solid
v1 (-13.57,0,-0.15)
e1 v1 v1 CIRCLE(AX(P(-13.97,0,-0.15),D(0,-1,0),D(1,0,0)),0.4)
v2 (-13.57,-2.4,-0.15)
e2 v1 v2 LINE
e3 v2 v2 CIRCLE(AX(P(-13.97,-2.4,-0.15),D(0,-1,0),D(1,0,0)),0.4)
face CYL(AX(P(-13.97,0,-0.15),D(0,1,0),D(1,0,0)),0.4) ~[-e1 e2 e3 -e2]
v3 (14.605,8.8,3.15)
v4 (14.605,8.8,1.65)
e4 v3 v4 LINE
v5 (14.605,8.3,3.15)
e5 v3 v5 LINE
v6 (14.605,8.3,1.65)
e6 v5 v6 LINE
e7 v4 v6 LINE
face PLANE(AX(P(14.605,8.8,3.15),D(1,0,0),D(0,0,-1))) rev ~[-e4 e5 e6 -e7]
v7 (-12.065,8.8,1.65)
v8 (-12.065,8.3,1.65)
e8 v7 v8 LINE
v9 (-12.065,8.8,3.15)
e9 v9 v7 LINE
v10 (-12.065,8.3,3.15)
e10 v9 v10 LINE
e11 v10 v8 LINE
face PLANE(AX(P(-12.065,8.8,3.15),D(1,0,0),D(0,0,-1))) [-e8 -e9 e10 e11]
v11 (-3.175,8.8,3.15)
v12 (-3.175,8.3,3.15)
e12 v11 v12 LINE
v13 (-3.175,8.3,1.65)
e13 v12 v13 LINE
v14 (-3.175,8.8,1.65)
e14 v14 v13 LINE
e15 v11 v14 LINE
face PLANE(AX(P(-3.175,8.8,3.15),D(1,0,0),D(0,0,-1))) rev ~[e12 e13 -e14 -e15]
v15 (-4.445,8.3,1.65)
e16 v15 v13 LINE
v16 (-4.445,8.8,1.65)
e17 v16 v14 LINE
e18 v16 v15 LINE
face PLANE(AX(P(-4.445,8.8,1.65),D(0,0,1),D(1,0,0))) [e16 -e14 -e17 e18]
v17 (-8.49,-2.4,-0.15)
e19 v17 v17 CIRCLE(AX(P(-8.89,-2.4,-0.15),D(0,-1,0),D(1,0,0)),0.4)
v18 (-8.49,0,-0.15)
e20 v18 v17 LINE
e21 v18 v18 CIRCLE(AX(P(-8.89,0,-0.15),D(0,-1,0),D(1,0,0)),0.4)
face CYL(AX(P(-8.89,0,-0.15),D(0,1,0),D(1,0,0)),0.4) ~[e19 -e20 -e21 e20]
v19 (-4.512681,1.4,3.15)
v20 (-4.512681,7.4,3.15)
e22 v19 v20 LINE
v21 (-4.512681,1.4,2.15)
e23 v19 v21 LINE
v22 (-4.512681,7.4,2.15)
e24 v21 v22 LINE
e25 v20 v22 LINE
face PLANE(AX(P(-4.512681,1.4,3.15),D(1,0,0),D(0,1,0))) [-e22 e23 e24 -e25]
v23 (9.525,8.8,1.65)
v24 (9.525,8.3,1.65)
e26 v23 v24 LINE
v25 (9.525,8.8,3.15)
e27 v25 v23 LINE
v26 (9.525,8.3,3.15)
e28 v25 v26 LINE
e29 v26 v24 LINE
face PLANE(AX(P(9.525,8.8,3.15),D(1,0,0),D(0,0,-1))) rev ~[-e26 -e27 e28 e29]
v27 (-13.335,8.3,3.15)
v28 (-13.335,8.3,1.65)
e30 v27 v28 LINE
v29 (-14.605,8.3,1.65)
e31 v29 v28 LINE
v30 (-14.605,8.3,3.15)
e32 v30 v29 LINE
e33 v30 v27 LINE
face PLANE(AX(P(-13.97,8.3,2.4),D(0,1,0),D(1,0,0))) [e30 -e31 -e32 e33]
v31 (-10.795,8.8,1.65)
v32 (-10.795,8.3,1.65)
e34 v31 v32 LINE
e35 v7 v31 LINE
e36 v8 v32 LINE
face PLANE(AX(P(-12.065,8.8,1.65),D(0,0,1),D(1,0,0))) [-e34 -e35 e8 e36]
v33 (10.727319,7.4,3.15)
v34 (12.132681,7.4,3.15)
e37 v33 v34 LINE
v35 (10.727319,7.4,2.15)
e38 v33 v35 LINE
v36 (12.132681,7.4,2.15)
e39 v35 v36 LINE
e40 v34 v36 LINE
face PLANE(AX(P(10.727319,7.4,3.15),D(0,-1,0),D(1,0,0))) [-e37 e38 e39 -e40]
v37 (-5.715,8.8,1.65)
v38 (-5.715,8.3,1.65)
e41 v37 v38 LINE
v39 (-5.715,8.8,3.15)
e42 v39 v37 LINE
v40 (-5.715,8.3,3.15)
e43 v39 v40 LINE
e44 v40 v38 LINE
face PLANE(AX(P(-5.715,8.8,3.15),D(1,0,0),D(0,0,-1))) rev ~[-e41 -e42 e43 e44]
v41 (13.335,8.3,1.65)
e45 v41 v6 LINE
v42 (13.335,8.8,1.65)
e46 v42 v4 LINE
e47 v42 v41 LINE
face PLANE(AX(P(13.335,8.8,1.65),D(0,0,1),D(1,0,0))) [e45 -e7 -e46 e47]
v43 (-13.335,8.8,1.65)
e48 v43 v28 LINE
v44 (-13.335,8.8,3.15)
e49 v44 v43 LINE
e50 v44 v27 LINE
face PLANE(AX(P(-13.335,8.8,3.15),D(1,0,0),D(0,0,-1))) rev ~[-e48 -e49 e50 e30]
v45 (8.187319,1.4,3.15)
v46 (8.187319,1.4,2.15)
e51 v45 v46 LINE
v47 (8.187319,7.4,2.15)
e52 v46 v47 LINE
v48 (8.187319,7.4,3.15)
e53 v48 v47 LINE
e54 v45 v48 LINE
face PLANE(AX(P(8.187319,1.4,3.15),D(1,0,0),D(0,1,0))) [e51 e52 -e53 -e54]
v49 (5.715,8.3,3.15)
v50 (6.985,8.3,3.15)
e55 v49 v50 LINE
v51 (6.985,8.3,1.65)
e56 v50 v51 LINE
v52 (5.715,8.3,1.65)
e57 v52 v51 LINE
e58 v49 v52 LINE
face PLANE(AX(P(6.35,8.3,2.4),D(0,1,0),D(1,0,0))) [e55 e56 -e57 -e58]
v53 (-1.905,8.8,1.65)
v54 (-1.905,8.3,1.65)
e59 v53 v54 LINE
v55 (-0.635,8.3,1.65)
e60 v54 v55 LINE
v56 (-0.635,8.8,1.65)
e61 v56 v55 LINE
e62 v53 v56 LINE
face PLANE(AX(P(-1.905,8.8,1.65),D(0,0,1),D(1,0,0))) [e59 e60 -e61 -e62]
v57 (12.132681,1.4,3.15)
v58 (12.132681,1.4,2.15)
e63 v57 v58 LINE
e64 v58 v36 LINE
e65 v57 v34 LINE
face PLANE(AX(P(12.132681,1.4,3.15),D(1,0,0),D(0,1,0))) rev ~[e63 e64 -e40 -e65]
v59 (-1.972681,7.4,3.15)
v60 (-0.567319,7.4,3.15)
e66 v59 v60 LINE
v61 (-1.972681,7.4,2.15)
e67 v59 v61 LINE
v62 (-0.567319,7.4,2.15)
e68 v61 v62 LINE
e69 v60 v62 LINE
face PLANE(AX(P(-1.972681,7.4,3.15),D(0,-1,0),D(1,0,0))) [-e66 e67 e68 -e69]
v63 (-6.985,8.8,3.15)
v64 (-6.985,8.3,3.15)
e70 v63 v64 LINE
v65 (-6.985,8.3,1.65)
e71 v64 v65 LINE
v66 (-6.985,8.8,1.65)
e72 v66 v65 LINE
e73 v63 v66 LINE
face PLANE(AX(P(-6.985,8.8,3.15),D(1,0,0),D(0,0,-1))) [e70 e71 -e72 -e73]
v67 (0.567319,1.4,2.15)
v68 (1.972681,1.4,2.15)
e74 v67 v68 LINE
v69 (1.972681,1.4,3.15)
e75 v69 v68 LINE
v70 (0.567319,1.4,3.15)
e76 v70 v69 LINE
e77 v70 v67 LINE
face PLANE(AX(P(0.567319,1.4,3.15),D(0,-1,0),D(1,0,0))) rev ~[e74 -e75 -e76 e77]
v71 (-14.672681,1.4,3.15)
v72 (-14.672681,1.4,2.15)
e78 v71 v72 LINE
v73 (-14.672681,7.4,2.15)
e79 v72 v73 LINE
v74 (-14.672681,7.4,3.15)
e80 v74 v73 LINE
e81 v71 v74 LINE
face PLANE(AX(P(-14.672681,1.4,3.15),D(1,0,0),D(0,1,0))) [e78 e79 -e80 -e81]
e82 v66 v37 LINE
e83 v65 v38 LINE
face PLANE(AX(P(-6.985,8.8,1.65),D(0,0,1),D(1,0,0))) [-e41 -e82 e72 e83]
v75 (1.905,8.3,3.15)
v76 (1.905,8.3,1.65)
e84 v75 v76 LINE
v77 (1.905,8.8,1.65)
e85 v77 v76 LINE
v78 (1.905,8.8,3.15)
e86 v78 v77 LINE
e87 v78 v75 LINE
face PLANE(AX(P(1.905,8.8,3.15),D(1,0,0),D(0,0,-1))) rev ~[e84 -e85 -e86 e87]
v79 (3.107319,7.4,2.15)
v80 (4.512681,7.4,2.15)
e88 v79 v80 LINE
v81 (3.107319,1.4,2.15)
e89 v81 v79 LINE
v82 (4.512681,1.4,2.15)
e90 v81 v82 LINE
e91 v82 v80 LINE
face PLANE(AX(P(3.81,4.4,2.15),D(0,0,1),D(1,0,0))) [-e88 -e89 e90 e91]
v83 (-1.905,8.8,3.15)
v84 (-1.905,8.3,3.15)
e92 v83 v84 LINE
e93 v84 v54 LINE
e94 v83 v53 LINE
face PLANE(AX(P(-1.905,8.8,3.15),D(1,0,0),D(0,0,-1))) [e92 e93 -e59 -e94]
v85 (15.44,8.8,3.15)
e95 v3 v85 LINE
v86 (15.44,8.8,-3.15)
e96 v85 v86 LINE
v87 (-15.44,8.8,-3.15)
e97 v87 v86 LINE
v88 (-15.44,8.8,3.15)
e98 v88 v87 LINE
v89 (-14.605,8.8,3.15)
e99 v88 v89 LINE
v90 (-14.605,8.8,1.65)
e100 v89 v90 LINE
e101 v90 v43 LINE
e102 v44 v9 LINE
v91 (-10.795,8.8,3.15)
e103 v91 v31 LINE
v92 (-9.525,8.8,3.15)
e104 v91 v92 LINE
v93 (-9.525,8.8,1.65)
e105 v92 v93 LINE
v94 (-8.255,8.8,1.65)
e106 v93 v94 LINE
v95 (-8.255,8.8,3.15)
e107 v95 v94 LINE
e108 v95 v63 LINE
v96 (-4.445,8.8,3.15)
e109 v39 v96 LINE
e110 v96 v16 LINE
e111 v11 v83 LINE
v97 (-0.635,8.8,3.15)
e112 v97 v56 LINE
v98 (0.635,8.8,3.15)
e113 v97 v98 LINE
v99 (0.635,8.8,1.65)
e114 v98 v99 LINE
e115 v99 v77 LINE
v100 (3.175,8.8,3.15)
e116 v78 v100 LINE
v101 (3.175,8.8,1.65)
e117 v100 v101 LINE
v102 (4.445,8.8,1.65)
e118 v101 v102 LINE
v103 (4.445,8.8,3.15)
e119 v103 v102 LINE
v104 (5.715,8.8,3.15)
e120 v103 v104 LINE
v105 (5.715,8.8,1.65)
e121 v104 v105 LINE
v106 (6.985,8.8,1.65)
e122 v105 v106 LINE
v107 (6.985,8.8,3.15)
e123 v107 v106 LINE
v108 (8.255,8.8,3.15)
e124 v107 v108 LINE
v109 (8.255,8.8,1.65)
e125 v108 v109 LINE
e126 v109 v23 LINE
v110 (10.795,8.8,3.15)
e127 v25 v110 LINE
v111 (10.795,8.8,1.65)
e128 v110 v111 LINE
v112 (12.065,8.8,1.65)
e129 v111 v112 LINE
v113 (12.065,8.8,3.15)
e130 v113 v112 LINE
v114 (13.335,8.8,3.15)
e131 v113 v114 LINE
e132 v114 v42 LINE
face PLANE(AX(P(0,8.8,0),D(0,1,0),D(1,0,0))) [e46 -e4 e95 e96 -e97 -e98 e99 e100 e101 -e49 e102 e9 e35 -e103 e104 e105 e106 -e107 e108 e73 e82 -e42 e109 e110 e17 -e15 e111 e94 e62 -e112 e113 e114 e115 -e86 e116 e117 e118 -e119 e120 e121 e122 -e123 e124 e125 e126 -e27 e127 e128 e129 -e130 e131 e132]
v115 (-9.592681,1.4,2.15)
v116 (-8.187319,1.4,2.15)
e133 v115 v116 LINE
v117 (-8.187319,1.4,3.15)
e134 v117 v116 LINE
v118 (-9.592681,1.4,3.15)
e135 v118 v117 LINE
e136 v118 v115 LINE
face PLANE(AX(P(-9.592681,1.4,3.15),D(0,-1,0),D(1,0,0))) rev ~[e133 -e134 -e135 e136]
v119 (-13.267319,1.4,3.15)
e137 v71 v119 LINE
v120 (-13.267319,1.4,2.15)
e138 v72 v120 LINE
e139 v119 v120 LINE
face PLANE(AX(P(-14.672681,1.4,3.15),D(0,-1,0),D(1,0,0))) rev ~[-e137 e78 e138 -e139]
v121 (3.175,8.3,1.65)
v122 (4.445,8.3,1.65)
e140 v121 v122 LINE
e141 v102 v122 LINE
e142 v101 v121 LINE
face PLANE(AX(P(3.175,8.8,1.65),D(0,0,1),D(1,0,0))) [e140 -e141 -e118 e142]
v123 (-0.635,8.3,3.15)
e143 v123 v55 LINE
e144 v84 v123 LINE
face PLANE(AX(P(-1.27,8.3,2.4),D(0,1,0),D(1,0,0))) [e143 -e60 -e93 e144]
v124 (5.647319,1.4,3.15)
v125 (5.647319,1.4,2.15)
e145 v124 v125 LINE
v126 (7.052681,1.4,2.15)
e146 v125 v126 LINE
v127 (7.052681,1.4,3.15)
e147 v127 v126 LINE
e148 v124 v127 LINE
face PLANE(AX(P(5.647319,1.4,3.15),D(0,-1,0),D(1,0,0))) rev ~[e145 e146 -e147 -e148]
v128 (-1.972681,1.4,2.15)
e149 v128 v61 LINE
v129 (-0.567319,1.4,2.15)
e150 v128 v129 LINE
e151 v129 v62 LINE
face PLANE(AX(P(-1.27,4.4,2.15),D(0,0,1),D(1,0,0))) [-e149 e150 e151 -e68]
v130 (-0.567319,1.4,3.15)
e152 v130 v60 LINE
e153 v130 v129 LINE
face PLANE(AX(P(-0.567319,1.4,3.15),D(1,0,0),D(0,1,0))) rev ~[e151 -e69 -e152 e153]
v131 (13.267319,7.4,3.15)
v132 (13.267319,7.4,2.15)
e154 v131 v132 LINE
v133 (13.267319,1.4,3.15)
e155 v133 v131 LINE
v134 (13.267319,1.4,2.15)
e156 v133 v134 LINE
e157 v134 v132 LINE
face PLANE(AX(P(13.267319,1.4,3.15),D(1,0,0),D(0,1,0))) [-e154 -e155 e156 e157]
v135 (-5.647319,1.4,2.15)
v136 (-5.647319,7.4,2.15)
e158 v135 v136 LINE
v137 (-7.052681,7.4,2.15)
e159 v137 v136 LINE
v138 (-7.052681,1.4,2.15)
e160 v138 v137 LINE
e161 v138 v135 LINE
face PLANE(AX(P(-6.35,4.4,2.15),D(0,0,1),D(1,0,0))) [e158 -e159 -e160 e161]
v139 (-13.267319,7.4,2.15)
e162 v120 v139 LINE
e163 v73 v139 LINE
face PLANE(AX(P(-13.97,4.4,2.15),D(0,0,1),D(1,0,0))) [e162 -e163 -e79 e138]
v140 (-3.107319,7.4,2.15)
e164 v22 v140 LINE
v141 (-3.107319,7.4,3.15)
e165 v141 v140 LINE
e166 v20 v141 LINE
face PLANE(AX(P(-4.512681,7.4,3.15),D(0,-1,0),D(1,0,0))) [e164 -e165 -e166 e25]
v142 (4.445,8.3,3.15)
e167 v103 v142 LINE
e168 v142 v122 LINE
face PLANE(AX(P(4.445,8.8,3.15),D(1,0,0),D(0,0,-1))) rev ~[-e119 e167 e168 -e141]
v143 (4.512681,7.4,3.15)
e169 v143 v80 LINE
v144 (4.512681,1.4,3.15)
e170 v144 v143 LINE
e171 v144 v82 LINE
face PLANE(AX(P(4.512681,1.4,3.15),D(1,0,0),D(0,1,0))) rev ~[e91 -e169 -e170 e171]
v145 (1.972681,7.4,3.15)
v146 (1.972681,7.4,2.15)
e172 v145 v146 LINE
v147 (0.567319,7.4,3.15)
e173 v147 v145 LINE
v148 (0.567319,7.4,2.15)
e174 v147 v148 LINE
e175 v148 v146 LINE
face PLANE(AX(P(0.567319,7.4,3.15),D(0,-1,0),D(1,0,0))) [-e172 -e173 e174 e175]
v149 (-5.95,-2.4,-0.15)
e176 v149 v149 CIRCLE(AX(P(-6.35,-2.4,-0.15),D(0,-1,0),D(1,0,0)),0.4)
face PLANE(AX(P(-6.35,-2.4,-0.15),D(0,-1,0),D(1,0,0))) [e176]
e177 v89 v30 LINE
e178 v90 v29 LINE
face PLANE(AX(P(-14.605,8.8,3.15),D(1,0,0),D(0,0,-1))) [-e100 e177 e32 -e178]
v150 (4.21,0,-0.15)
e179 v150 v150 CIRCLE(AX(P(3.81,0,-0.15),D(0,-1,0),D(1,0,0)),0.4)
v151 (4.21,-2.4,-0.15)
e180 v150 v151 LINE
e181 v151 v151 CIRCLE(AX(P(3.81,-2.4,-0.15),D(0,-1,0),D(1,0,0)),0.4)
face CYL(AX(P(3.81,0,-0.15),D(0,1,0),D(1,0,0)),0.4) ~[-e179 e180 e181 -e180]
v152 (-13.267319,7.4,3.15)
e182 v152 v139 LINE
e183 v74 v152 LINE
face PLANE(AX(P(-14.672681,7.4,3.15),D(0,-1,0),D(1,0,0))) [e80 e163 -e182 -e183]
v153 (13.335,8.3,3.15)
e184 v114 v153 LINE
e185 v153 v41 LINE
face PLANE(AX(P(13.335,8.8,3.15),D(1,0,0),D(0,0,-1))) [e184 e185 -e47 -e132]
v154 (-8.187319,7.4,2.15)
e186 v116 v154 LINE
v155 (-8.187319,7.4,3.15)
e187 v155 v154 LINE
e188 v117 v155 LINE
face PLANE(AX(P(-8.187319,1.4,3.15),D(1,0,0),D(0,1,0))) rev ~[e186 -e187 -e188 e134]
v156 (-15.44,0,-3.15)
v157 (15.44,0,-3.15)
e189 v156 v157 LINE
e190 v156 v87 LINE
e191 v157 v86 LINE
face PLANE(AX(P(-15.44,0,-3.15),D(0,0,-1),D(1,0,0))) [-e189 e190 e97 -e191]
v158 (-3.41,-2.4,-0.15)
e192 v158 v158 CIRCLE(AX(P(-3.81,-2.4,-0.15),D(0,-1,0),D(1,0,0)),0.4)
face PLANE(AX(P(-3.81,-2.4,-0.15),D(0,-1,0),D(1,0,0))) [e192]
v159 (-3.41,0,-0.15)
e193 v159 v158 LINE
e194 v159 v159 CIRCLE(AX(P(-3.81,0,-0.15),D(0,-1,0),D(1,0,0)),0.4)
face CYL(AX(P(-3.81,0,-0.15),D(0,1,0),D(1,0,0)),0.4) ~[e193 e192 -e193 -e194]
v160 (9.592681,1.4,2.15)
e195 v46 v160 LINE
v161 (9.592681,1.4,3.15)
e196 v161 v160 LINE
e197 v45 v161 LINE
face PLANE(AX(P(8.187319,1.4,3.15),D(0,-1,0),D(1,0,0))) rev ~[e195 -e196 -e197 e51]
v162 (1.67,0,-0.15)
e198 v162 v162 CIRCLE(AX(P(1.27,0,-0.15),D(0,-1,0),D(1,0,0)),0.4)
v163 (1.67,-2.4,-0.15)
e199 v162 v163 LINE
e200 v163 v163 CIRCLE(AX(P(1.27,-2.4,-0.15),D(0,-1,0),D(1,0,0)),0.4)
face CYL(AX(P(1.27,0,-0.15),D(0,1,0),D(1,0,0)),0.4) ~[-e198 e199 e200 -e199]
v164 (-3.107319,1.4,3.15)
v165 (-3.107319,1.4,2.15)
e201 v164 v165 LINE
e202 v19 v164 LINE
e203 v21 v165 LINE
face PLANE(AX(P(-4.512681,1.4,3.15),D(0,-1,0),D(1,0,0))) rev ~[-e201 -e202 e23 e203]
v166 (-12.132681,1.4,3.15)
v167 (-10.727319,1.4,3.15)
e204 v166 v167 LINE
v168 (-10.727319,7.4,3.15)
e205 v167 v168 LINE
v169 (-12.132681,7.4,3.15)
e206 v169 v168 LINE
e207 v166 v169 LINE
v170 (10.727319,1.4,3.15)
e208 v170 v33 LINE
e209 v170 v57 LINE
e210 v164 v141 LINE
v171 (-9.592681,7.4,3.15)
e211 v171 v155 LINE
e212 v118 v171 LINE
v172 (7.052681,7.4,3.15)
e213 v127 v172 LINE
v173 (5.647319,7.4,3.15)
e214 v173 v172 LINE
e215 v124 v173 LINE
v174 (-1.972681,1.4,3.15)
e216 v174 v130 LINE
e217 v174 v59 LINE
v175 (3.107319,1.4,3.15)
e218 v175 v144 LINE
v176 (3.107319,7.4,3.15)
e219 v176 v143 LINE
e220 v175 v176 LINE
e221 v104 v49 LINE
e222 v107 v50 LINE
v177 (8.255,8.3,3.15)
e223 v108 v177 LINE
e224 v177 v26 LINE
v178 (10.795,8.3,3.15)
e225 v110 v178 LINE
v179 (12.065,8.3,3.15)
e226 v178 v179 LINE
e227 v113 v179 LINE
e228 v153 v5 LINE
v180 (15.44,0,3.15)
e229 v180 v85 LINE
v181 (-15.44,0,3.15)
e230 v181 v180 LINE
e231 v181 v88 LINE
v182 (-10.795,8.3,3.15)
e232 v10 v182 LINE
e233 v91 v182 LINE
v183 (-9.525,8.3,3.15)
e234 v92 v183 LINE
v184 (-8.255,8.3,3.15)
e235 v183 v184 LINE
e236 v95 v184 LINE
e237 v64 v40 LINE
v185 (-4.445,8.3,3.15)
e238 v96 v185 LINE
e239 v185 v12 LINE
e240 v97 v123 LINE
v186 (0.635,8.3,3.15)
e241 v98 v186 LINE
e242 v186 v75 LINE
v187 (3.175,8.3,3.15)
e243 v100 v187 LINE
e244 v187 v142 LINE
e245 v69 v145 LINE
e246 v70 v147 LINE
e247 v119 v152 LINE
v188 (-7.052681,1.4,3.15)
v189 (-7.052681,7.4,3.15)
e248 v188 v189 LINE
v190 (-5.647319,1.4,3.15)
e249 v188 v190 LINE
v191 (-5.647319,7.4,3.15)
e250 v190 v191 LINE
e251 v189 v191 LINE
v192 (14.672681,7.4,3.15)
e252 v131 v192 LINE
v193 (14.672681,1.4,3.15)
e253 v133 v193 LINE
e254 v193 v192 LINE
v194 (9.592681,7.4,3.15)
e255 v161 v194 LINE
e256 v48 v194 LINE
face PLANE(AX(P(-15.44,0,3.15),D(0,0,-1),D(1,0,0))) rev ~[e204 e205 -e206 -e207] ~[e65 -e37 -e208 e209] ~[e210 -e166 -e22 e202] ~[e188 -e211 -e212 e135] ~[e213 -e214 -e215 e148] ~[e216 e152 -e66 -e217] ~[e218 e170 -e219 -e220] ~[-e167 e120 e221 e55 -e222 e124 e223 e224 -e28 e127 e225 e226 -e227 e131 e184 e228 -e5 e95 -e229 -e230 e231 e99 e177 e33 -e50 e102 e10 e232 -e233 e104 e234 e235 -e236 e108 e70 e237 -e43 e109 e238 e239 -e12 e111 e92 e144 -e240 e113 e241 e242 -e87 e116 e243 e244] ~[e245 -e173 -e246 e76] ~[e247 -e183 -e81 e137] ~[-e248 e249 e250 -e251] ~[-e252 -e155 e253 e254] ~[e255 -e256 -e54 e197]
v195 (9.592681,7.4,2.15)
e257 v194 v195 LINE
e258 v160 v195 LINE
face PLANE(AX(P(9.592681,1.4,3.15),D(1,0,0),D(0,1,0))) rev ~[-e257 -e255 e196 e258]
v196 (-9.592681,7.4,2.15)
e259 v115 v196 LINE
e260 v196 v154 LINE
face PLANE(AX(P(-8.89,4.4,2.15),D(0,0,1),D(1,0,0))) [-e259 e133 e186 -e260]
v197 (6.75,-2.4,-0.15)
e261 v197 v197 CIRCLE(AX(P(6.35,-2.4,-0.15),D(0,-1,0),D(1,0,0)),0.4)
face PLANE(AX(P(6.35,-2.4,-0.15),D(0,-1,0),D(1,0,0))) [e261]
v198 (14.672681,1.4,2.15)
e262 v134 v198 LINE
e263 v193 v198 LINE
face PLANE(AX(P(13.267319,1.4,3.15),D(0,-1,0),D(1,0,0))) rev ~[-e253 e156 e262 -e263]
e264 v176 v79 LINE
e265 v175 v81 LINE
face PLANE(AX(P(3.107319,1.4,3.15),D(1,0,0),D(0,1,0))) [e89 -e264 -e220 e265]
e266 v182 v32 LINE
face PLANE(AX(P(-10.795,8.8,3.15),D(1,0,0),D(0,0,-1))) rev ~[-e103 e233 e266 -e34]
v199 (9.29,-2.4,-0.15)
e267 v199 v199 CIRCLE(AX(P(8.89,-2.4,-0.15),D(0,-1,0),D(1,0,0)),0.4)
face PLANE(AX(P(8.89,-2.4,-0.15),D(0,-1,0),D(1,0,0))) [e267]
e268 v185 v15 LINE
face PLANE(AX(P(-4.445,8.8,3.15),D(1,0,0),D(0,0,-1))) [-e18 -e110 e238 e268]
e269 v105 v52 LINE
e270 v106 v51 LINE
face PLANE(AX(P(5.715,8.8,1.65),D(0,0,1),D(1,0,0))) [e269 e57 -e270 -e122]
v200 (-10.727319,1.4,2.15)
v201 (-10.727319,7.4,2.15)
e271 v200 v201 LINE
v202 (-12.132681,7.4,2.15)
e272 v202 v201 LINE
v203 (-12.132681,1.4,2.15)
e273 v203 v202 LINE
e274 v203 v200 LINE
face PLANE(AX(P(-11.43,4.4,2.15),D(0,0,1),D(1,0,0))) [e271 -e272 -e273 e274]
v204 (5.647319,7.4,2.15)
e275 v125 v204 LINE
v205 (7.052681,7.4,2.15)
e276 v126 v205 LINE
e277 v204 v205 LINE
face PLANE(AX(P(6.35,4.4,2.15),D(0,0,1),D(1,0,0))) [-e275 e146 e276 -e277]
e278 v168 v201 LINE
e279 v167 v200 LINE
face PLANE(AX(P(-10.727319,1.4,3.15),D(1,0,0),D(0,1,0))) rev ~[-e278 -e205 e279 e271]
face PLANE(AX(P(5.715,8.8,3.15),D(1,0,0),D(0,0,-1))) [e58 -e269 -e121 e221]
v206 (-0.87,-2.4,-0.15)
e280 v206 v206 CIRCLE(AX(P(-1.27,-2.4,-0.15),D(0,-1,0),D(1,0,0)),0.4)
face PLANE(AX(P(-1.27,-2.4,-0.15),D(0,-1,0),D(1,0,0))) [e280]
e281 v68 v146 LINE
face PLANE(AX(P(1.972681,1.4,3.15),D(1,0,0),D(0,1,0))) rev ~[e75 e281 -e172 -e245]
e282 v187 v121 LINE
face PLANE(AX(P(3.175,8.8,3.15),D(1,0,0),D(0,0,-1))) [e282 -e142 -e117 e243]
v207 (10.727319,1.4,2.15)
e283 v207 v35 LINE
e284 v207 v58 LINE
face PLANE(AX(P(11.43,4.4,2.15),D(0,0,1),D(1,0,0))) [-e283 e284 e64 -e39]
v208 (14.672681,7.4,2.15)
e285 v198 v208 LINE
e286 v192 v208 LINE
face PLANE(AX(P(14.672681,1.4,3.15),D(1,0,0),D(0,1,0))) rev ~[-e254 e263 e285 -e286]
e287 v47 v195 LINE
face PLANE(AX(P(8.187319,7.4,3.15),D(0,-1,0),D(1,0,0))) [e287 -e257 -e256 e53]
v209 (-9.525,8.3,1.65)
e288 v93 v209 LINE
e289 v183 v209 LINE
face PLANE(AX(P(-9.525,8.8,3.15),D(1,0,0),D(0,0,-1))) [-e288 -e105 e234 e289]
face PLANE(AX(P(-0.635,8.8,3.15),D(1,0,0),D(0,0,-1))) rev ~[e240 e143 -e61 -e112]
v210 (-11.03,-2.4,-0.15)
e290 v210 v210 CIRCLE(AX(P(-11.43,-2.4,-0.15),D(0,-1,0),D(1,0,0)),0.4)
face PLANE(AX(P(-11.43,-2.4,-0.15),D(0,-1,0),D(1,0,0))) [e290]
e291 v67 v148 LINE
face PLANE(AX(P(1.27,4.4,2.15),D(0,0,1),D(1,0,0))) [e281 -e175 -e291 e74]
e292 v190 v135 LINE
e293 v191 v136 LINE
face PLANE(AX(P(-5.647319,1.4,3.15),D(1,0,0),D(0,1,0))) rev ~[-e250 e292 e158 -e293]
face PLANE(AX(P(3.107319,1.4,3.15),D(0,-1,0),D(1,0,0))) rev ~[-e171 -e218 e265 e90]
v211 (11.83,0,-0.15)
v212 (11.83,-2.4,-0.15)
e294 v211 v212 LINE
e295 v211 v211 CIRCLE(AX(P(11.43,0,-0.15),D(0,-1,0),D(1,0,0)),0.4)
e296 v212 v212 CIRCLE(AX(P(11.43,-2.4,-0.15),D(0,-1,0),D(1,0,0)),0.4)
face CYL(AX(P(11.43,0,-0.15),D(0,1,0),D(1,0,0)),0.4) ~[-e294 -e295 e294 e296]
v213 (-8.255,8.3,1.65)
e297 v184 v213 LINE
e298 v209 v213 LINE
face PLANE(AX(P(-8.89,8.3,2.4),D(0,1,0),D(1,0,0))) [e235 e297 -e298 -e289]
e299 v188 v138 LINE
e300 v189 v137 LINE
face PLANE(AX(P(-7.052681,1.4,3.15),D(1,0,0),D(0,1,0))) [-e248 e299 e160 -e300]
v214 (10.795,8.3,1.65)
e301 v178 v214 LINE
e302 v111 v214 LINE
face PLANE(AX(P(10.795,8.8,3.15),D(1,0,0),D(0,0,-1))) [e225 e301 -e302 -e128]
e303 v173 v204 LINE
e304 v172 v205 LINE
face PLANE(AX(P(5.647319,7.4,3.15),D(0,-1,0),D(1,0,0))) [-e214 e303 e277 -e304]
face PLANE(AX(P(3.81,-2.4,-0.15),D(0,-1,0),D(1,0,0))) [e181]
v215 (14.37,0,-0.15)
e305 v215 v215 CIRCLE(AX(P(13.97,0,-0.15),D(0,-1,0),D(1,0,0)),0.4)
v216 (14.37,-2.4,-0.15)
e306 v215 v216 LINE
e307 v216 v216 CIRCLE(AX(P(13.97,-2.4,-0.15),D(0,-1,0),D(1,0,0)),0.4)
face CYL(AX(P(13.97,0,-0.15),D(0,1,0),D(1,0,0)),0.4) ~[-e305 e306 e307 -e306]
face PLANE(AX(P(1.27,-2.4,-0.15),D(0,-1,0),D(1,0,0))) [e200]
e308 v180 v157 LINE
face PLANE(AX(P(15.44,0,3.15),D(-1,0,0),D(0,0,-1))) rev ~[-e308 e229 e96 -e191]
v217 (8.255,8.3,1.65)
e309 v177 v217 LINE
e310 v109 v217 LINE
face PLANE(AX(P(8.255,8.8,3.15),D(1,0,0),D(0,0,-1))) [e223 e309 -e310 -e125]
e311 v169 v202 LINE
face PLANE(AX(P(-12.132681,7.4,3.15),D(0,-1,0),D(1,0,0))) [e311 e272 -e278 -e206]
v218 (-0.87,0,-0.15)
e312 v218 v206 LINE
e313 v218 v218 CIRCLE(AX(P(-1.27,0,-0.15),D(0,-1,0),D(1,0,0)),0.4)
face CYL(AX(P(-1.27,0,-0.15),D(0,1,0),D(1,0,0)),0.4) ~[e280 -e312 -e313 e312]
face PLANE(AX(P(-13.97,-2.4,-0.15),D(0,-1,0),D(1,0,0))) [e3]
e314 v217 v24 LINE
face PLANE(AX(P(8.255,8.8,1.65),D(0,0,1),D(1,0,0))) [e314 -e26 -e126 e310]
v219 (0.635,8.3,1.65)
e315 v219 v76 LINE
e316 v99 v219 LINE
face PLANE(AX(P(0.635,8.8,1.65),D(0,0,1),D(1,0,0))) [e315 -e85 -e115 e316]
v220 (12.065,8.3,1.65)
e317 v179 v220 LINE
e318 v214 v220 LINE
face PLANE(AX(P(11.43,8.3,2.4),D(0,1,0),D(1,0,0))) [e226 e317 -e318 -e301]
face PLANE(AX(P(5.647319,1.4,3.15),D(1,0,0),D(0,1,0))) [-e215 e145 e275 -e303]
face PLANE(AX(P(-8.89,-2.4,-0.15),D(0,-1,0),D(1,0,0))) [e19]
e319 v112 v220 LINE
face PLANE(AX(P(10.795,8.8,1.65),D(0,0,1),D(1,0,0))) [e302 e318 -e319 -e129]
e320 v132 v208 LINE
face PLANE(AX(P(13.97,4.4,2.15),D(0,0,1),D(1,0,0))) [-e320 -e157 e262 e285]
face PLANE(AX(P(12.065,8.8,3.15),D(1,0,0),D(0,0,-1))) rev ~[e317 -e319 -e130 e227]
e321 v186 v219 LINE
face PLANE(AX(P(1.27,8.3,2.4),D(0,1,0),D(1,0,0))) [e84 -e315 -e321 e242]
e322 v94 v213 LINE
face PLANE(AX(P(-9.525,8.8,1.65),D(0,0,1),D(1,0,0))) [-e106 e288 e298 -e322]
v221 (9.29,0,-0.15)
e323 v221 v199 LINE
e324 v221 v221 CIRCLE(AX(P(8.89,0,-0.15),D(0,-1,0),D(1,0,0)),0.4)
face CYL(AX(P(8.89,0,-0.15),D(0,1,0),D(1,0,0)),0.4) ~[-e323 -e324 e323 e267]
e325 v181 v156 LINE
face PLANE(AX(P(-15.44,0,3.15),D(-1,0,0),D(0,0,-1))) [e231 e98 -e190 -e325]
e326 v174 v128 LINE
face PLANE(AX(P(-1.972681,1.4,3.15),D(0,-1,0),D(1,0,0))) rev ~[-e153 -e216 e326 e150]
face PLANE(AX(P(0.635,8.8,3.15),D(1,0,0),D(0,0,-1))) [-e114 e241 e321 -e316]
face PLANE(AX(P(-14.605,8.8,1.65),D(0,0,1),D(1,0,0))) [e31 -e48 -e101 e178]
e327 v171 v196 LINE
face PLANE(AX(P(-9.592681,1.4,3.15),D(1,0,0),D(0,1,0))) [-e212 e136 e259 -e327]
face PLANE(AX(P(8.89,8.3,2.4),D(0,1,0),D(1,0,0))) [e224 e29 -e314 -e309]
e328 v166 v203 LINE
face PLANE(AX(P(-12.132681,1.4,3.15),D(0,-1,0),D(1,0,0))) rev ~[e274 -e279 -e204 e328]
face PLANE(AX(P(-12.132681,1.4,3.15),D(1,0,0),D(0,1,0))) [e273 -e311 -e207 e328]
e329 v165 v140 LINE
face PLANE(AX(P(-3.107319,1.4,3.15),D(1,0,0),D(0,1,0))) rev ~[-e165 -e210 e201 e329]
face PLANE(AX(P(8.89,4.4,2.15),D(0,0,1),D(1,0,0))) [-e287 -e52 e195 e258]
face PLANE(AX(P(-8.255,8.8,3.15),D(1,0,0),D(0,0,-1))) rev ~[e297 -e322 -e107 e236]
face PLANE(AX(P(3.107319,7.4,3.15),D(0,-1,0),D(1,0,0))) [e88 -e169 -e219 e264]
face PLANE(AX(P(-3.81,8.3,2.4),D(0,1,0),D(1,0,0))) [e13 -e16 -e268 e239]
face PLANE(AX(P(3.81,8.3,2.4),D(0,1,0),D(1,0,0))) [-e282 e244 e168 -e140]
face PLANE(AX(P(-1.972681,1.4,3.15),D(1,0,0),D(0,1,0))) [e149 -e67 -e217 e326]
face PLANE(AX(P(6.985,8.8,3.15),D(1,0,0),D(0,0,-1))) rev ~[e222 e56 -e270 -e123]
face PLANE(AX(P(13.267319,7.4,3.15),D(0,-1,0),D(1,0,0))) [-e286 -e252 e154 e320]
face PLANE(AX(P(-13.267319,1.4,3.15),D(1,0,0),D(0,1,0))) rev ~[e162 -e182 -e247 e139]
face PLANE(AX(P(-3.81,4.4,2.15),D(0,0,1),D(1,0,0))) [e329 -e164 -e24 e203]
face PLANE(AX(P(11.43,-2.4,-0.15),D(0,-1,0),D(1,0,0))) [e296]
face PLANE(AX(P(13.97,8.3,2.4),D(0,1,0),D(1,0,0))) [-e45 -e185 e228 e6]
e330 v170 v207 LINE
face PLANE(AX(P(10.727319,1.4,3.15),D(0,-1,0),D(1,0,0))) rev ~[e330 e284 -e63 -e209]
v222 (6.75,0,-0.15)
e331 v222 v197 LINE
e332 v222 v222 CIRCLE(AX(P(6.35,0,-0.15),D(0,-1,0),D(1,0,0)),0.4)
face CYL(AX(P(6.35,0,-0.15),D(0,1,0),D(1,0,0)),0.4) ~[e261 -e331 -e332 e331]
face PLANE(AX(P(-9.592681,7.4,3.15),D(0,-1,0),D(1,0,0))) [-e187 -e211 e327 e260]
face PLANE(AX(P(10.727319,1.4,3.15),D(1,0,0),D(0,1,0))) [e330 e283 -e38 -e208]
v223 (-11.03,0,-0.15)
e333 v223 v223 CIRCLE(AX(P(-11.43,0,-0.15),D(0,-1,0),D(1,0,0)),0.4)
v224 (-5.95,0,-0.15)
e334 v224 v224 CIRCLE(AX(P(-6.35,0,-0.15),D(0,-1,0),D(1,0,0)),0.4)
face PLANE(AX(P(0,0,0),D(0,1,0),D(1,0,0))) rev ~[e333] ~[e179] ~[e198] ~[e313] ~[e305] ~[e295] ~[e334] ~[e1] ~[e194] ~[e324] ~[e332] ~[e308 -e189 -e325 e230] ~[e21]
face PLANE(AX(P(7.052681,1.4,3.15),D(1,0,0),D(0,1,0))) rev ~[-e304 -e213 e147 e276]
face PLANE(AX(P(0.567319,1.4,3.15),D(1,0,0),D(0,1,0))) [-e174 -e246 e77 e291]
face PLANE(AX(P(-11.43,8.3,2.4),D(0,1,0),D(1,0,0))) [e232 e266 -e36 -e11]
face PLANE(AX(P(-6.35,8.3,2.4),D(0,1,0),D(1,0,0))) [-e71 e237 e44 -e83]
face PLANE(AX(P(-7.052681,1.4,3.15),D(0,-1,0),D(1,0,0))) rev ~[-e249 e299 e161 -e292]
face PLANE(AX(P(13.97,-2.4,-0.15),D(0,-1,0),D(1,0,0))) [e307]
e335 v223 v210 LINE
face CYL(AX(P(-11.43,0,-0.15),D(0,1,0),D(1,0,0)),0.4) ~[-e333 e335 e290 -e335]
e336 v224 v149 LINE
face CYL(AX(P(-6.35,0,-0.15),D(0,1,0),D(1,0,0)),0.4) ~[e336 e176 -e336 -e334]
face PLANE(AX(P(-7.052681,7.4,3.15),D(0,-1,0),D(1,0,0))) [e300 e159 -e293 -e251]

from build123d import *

# Parameters (mm, degrees)
SKETCH2_W           = 30.88
SKETCH2_H           = 6.3
BOSS_EXTRUDE1_DEPTH = 8.8
SKETCH3_R           = 0.4
BOSS_EXTRUDE2_DEPTH = 2.4
SKETCH4_W           = 1.405361948
SKETCH4_H           = 6
CUT_EXTRUDE1_DEPTH  = 1
SKETCH5_W           = 1.27
SKETCH5_H           = 1.5
CUT_EXTRUDE2_DEPTH  = 0.5
LPATTERN1_COUNT     = 12
LPATTERN1_PITCH     = 2.54


with BuildPart() as part:
    # Sketch2 → Boss-Extrude1 (new body)
    with BuildSketch(Plane(origin=(0, 0, 0), x_dir=(1, 0, 0), z_dir=(0, 1, 0))):
        Rectangle(SKETCH2_W, SKETCH2_H)
    extrude(amount=BOSS_EXTRUDE1_DEPTH)

    # Sketch3 → Boss-Extrude2 (add)
    with BuildSketch(Plane.XZ):
        with Locations((-13.97, -0.15)):
            Circle(SKETCH3_R)
    boss_extrude2 = extrude(amount=BOSS_EXTRUDE2_DEPTH)

    # Sketch4 → Cut-Extrude1 (cut)
    with BuildSketch(Plane.XY.offset(3.15)):
        with Locations((-13.97, 4.4)):
            Rectangle(SKETCH4_W, SKETCH4_H)
    cut_extrude1 = extrude(amount=-CUT_EXTRUDE1_DEPTH, mode=Mode.SUBTRACT)

    # Sketch5 → Cut-Extrude2 (cut)
    with BuildSketch(Plane(origin=(0, 8.8, 0), x_dir=(1, 0, 0), z_dir=(0, 1, 0))):
        with Locations((-13.97, -2.4)):
            Rectangle(SKETCH5_W, SKETCH5_H)
    cut_extrude2 = extrude(amount=-CUT_EXTRUDE2_DEPTH, mode=Mode.SUBTRACT)

    # LPattern1: Boss-Extrude2, Cut-Extrude1, Cut-Extrude2 ×12
    with Locations(*[(i * LPATTERN1_PITCH, 0, 0) for i in range(1, LPATTERN1_COUNT)]):
        add(boss_extrude2)
        add(cut_extrude1, mode=Mode.SUBTRACT)
        add(cut_extrude2, mode=Mode.SUBTRACT)


solid = part.part
